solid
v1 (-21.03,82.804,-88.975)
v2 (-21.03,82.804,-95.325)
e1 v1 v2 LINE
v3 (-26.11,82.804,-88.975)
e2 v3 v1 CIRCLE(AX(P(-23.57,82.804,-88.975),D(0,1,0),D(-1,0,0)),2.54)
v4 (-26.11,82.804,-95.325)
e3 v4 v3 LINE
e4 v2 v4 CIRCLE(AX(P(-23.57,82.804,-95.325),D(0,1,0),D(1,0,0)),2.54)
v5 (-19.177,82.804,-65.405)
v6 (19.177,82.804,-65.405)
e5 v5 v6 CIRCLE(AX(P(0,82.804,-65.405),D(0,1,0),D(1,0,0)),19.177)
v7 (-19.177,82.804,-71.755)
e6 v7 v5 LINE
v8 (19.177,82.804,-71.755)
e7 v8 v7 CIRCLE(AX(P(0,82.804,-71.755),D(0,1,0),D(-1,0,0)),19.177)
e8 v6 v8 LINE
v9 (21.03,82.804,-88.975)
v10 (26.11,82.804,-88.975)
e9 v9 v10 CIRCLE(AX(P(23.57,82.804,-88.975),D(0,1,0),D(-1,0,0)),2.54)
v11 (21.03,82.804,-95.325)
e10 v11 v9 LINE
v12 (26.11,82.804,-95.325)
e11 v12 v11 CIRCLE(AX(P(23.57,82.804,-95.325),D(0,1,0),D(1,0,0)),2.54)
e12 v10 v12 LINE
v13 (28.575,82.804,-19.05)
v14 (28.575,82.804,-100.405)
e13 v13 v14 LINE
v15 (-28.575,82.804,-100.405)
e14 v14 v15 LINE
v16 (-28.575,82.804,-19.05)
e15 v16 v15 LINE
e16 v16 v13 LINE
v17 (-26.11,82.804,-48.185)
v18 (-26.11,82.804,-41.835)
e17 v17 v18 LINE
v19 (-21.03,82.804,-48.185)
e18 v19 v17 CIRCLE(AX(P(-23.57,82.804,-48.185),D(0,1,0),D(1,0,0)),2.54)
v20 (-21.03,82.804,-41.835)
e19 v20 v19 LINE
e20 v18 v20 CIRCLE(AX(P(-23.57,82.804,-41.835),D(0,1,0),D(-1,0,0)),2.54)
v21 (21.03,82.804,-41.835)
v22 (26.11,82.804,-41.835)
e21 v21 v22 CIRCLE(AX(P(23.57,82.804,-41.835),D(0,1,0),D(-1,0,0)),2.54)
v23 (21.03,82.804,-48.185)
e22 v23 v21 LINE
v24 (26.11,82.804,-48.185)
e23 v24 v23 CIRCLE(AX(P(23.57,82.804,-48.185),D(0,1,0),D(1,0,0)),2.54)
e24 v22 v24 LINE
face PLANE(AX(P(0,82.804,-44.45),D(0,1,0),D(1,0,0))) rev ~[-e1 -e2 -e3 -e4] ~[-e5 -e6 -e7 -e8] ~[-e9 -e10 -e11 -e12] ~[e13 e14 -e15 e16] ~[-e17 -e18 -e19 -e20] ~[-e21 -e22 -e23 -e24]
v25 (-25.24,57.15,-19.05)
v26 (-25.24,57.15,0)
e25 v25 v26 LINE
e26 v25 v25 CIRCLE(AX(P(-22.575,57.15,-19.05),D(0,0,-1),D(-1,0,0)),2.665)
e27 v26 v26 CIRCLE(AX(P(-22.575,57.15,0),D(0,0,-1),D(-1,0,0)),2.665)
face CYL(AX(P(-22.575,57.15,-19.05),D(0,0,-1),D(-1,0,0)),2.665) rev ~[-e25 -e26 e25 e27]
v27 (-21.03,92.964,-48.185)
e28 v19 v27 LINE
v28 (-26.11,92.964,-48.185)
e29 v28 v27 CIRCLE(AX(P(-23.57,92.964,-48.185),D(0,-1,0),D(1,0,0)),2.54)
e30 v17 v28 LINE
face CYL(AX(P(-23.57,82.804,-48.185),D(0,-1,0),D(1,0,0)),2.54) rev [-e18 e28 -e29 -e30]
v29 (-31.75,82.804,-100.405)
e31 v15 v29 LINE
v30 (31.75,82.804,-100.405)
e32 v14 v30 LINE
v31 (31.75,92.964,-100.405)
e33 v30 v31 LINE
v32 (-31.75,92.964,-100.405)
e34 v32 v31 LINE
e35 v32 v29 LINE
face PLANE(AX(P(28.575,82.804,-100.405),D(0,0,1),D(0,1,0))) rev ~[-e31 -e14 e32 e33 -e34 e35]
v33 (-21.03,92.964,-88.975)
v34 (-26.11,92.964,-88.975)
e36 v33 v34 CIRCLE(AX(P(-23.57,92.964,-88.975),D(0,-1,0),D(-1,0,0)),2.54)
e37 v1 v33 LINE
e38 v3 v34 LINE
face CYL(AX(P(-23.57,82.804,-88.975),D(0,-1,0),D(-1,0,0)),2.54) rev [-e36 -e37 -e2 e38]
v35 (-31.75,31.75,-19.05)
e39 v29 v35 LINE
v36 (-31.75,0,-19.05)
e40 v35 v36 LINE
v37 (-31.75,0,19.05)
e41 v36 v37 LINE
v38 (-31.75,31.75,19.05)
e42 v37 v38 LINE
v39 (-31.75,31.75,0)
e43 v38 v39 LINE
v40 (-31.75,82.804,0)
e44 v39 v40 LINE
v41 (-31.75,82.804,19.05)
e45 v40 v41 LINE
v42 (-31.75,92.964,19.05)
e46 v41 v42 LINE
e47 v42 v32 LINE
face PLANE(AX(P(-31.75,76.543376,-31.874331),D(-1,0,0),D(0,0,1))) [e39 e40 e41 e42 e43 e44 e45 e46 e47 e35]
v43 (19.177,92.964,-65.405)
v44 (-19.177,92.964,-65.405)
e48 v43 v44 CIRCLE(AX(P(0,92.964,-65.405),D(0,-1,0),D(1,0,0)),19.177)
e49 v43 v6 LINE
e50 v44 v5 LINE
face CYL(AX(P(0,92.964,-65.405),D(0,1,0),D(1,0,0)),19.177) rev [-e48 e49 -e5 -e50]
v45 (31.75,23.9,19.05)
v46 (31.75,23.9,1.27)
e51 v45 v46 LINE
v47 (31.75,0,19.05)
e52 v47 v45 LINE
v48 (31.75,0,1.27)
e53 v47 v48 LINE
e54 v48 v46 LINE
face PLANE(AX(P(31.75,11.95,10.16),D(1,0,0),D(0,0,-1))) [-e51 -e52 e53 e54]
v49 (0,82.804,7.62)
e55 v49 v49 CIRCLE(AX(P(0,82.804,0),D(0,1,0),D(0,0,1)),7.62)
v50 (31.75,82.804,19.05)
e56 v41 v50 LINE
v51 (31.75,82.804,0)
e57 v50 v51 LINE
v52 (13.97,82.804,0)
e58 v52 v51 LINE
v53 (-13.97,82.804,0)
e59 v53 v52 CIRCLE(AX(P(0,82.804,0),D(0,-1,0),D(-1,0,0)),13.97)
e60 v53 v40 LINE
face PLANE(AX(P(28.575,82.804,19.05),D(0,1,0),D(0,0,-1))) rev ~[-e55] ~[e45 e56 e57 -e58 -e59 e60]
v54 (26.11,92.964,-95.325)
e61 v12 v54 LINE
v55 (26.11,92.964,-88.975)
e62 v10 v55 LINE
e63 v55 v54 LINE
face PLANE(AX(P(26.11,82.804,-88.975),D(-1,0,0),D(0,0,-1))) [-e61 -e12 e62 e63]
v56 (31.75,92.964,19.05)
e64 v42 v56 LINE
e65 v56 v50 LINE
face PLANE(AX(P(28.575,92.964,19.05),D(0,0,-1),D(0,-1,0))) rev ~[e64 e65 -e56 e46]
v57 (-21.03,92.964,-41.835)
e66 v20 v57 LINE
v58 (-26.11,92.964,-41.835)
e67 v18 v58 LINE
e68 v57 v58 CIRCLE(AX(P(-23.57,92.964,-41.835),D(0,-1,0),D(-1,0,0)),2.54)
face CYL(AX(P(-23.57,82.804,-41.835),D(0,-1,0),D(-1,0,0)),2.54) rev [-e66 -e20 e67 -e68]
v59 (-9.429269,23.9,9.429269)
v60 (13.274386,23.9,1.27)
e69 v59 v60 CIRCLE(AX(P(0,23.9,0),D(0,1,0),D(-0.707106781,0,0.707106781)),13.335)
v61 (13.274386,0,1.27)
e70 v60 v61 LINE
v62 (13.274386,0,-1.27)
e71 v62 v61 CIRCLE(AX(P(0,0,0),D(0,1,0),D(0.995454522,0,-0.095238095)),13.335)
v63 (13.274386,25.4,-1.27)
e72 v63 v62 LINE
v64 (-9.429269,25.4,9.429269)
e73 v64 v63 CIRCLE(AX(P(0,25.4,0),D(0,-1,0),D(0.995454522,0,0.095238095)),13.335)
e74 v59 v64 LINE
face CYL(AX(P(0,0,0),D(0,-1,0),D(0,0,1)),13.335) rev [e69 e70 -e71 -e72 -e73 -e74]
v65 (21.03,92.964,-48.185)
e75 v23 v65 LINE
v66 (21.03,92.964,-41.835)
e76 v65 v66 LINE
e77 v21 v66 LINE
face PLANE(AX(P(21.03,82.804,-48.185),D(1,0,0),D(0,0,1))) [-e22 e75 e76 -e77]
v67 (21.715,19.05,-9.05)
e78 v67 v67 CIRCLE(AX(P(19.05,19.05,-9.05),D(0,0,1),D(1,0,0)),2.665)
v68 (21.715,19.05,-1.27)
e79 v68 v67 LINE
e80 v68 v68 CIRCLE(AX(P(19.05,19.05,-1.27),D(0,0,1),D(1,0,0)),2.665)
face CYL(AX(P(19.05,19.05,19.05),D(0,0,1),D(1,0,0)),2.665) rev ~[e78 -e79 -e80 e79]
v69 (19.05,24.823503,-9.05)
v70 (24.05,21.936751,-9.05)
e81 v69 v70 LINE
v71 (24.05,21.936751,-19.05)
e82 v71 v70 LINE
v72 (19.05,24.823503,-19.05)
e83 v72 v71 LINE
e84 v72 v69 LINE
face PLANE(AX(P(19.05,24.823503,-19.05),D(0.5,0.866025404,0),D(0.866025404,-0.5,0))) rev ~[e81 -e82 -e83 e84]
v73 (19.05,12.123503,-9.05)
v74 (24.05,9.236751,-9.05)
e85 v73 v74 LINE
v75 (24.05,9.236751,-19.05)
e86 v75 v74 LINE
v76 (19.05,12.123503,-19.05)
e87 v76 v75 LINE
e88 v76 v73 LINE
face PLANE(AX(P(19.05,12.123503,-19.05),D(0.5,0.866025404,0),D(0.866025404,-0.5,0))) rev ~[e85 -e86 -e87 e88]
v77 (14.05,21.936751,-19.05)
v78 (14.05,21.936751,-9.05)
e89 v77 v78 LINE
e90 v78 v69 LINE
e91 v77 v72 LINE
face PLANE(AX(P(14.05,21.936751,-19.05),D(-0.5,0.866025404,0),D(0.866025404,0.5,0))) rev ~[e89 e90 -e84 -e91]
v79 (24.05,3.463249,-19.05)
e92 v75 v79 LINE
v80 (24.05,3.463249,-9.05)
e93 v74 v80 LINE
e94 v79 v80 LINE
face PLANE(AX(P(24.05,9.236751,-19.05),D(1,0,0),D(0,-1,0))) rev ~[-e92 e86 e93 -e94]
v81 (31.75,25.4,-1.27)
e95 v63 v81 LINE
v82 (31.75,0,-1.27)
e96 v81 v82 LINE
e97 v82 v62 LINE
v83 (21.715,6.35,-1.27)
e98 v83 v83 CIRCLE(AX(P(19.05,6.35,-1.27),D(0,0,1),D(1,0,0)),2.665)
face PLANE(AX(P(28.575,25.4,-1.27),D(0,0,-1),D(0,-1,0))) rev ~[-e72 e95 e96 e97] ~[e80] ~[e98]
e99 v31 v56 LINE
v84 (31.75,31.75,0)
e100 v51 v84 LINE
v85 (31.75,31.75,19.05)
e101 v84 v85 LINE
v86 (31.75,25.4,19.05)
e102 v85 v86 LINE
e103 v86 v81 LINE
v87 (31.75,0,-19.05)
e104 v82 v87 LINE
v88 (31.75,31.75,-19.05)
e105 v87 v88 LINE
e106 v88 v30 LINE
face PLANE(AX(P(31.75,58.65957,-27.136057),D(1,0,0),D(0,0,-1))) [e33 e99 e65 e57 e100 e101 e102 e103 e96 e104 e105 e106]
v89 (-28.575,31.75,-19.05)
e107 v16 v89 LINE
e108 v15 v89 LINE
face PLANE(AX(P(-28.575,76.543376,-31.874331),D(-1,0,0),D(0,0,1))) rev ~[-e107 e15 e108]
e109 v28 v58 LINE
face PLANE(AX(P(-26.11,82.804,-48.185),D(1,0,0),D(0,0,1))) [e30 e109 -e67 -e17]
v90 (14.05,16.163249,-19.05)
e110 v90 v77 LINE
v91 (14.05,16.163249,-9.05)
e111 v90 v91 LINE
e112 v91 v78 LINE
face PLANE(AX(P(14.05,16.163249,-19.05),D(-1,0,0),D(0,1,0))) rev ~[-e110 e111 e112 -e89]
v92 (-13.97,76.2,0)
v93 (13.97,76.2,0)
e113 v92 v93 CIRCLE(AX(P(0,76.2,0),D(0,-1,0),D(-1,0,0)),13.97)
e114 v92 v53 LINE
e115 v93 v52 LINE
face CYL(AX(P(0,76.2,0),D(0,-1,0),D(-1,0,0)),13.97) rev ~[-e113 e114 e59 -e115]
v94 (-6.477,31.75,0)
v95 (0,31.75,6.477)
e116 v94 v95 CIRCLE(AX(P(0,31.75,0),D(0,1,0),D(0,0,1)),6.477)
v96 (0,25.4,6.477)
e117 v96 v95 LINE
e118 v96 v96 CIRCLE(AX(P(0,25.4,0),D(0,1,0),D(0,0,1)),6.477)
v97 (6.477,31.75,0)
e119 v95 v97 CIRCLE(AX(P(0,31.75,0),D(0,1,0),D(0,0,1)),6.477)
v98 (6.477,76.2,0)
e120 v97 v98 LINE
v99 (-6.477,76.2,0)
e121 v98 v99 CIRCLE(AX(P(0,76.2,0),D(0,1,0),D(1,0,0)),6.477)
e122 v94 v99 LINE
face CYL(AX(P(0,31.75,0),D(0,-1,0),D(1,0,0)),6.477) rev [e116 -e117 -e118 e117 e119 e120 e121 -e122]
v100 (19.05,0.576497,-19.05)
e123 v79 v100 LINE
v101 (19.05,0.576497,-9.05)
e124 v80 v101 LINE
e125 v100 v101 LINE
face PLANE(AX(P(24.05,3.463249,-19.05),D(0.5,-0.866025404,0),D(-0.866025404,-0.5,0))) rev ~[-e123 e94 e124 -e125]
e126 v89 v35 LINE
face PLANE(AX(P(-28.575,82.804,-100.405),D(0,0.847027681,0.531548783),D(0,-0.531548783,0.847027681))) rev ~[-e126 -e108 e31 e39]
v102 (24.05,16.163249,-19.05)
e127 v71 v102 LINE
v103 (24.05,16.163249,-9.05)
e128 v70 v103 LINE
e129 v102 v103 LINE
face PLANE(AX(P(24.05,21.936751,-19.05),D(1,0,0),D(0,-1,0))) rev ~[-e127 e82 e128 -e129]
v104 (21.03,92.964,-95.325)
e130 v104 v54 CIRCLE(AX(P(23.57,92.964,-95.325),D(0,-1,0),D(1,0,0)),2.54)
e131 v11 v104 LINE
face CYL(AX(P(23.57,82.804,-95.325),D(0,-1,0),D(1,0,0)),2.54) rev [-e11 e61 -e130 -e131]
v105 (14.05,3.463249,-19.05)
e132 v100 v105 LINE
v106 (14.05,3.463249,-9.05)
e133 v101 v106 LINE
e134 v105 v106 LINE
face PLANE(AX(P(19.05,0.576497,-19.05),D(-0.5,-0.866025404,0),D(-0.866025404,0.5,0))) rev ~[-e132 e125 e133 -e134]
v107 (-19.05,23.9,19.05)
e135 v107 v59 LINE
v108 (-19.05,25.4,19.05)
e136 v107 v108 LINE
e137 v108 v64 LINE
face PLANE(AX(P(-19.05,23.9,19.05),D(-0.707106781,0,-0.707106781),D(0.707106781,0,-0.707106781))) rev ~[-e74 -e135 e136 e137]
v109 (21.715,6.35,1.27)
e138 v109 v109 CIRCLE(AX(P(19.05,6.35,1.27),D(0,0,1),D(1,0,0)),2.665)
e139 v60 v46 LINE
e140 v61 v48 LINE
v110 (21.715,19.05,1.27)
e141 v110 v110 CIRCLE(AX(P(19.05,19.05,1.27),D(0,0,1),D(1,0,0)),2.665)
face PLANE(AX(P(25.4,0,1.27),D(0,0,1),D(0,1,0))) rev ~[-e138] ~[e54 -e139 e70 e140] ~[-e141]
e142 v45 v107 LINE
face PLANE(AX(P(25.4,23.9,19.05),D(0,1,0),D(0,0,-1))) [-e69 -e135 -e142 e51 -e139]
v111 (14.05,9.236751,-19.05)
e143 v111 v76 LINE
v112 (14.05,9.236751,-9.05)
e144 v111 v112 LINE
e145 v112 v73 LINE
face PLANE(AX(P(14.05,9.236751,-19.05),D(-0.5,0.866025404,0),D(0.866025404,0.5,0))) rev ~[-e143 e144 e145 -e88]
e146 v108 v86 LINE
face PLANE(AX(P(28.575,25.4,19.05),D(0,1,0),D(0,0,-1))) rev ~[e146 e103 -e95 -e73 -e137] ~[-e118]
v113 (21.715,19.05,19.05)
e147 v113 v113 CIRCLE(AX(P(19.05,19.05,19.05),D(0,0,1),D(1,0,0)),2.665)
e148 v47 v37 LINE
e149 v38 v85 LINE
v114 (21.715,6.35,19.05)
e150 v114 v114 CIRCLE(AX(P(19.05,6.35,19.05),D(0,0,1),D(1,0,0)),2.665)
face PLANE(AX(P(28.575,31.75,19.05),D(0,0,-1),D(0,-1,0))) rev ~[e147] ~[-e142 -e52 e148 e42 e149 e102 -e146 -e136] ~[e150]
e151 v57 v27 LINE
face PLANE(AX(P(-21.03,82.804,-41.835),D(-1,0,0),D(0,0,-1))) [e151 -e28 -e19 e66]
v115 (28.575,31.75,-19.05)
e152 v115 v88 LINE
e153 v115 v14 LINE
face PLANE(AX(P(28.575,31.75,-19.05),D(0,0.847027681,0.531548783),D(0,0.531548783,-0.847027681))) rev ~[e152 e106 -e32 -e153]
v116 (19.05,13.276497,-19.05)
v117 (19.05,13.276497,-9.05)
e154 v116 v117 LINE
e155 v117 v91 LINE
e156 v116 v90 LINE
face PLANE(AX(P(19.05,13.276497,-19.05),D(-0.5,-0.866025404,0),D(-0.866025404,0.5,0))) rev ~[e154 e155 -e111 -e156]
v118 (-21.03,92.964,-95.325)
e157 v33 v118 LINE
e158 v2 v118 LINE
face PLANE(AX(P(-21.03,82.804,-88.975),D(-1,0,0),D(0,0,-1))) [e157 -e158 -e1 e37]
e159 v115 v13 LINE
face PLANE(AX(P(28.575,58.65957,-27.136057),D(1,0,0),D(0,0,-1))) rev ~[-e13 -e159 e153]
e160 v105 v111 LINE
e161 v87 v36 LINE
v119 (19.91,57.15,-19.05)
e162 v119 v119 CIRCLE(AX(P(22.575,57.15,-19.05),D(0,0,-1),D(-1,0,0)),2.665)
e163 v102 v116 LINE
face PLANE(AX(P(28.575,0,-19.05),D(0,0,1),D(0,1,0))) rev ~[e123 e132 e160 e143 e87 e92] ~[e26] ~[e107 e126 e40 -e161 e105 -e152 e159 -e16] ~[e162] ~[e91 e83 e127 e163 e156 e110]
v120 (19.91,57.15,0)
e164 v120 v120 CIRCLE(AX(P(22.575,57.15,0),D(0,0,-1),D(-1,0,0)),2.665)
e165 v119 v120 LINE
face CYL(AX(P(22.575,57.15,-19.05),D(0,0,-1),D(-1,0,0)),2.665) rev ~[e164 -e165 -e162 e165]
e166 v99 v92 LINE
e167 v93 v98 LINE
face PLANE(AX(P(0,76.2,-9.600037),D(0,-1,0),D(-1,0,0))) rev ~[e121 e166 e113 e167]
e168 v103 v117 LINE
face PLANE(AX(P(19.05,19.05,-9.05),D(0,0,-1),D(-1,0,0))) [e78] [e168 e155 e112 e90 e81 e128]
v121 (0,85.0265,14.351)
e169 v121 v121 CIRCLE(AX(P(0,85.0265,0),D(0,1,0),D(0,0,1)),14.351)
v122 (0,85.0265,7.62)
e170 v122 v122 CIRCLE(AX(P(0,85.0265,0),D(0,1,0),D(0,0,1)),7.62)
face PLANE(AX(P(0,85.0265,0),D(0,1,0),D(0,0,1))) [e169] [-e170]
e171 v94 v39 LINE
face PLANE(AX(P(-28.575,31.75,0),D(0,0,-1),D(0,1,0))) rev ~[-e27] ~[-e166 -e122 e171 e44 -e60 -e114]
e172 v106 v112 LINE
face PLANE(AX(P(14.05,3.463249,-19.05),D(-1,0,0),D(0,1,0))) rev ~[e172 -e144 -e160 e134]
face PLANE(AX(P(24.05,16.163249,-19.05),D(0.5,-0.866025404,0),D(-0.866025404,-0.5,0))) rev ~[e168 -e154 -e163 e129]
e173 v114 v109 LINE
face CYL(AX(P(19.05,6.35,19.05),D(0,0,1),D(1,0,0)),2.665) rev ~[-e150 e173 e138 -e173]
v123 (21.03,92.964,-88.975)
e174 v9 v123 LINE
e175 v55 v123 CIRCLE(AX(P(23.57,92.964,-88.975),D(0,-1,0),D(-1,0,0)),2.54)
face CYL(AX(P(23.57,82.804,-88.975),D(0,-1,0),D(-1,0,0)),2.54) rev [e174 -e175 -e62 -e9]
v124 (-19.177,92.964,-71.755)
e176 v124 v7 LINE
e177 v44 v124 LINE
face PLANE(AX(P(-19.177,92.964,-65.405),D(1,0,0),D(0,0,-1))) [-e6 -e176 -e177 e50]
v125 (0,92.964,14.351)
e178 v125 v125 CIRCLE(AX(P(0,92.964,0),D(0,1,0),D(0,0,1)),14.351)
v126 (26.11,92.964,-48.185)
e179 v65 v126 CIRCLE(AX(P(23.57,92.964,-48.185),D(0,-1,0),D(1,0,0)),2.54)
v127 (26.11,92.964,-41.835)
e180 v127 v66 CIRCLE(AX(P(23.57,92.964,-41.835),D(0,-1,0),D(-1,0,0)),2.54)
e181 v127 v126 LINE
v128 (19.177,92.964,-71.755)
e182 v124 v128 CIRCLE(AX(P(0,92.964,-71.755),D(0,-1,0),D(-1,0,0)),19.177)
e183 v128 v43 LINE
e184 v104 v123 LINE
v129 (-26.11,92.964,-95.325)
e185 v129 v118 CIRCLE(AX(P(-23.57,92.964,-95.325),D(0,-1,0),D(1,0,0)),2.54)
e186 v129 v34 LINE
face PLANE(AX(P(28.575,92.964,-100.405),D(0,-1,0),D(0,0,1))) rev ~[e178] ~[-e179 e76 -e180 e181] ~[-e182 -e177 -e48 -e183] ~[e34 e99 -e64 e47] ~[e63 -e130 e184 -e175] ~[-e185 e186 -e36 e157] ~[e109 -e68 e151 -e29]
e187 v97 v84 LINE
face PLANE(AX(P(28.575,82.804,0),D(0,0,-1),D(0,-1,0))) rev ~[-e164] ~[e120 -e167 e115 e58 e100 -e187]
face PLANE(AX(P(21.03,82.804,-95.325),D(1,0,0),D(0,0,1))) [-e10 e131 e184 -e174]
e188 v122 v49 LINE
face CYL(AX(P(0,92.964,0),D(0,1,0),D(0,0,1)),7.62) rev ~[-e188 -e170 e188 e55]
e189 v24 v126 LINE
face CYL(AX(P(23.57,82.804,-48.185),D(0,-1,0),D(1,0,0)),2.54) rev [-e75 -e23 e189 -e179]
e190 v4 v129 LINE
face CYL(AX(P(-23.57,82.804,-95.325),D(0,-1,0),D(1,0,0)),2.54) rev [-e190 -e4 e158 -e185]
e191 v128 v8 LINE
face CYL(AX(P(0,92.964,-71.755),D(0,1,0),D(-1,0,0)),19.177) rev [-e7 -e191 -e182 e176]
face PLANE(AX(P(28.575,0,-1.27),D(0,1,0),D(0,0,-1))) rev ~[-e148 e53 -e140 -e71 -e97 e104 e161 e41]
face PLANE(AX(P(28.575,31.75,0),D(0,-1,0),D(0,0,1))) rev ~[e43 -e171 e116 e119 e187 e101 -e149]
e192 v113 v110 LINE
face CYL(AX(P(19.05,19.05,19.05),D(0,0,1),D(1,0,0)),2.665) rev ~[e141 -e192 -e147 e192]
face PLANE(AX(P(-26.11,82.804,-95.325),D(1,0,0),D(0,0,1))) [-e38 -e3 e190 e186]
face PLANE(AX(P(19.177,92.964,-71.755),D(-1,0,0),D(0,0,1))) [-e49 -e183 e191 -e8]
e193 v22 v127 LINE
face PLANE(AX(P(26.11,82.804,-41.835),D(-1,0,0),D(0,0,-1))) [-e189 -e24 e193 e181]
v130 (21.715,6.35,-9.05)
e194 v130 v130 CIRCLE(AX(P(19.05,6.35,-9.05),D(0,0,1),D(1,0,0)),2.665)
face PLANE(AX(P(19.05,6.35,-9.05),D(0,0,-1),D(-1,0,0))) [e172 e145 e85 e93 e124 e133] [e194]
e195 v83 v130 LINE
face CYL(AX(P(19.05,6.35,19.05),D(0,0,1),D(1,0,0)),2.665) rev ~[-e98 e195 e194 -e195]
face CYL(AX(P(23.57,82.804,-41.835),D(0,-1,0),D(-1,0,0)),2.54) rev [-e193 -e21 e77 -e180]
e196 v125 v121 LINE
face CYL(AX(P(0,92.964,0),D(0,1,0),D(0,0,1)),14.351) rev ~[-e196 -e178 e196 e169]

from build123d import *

# Parameters (mm, degrees)
SKETCH1_W            = 50.8
SKETCH1_H            = 38.1
SKETCH1_R            = 13.335
BOSS_EXTRUDE2_DEPTH  = 25.4
CUT_EXTRUDE1_REACH   = 42.66
SKETCH2_W            = 25.4
SKETCH2_H            = 2.54
SKETCH3_R            = 2.665
CUT_EXTRUDE2_DEPTH   = 53.363441445
CUT_EXTRUDE3_DEPTH   = 10
CUT_EXTRUDE4_START   = -1.5
CUT_EXTRUDE4_DEPTH   = 1.5
SKETCH6_W            = 50.8
SKETCH6_H            = 38.1
SKETCH6_R            = 6.477
BOSS_EXTRUDE3_DEPTH  = 6.35
BOSS_EXTRUDE4_DEPTH  = 44.45
BOSS_EXTRUDE5_DEPTH  = 6.604
SKETCH11_W           = 57.15
SKETCH11_H           = 127
BOSS_EXTRUDE6_DEPTH  = 10.16
CUT_EXTRUDE6_REACH   = 147.3
SKETCH12_R           = 7.62
SKETCH13_R           = 14.351
CUT_EXTRUDE7_DEPTH   = 7.9375
CUT_EXTRUDE8_REACH   = 147.3
CUT_EXTRUDE11_REACH  = 141.019
CUT_EXTRUDE12_REACH  = 147.3
SKETCH16_W           = 57.15
SKETCH16_H           = 7.545
SKETCH17_W           = 17.78
SKETCH17_H           = 23.9
BOSS_EXTRUDE7_DEPTH  = 3.175
BOSS_EXTRUDE8_DEPTH  = 3.175
BOSS_EXTRUDE10_DEPTH = 3.175
SKETCH20_W           = 17.78
SKETCH20_H           = 23.9
BOSS_EXTRUDE11_DEPTH = 3.175
CUT_EXTRUDE13_REACH  = 129.55
SKETCH21_R           = 2.665


with BuildPart() as part:
    # Sketch1 → Boss-Extrude2 (new body)
    with BuildSketch(Plane(origin=(0, 0, 0), x_dir=(1, 0, 0), z_dir=(0, 1, 0))):
        Rectangle(SKETCH1_W, SKETCH1_H)
        with Locations(Location((0, 0, 0), (0, 0, 270))):
            Circle(SKETCH1_R, mode=Mode.SUBTRACT)
    extrude(amount=BOSS_EXTRUDE2_DEPTH)

    # Sketch2 → Cut-Extrude1 (cut, up to next)
    with BuildSketch(Plane(origin=(0, 25.4, 0), x_dir=(1, 0, 0), z_dir=(0, 1, 0)), mode=Mode.PRIVATE) as cut_extrude1_sk1:
        with Locations((12.7, 0)):
            Rectangle(SKETCH2_W, SKETCH2_H)
    cut_extrude1_tool1 = extrude(cut_extrude1_sk1.sketch, amount=-CUT_EXTRUDE1_REACH, mode=Mode.PRIVATE) & part.part
    add(cut_extrude1_tool1.solids().sort_by_distance((12.7, 25.4, 0))[0], mode=Mode.SUBTRACT)

    # Sketch3 → Cut-Extrude2 (cut, through all)
    with BuildSketch(Plane.XY.offset(19.05)):
        with Locations((19.05, 19.05)):
            Circle(SKETCH3_R)
        with Locations((19.05, 6.35)):
            Circle(SKETCH3_R)
    extrude(amount=-CUT_EXTRUDE2_DEPTH, mode=Mode.SUBTRACT)

    # Sketch4 → Cut-Extrude3 (cut)
    with BuildSketch(Plane(origin=(0, 0, -19.05), x_dir=(-1, 0, 0), z_dir=(0, 0, -1))):
        Polygon((-19.05, 24.823502692), (-24.05, 21.936751346), (-24.05, 16.163248654), (-19.05, 13.276497308), (-14.05, 16.163248654), (-14.05, 21.936751346), align=None)
        Polygon((-19.05, 12.123502692), (-24.05, 9.236751346), (-24.05, 3.463248654), (-19.05, 0.576497308), (-14.05, 3.463248654), (-14.05, 9.236751346), align=None)
    extrude(amount=-CUT_EXTRUDE3_DEPTH, mode=Mode.SUBTRACT)

    # Sketch5 → Cut-Extrude4 (cut)
    with BuildSketch(Plane(origin=(0, 25.4, 0), x_dir=(1, 0, 0), z_dir=(0, 1, 0)).offset(CUT_EXTRUDE4_START)):
        with BuildLine():
            Line((-19.05, -19.05), (-9.429268927, -9.429268927))
            ThreePointArc((-9.429268927, -9.429268927), (4.509949975, -12.549206199), (13.27438605, -1.27))
            Line((13.27438605, -1.27), (25.4, -1.27))
            Line((25.4, -1.27), (25.4, -19.05))
            Line((25.4, -19.05), (-19.05, -19.05))
        make_face()
    extrude(amount=CUT_EXTRUDE4_DEPTH, mode=Mode.SUBTRACT)

    # Sketch6 → Boss-Extrude3 (add)
    with BuildSketch(Plane(origin=(0, 25.4, 0), x_dir=(1, 0, 0), z_dir=(0, 1, 0))):
        Rectangle(SKETCH6_W, SKETCH6_H)
        with Locations(Location((0, 0, 0), (0, 0, 270))):
            Circle(SKETCH6_R, mode=Mode.SUBTRACT)
    extrude(amount=BOSS_EXTRUDE3_DEPTH)

    # Sketch8 → Boss-Extrude4 (add)
    with BuildSketch(Plane(origin=(0, 31.75, 0), x_dir=(1, 0, 0), z_dir=(0, 1, 0))):
        with BuildLine():
            Line((-25.4, 19.05), (25.4, 19.05))
            Line((25.4, 19.05), (25.4, 0))
            Line((25.4, 0), (6.477, 0))
            ThreePointArc((6.477, 0), (0, 6.477), (-6.477, 0))
            Line((-6.477, 0), (-25.4, 0))
            Line((-25.4, 0), (-25.4, 19.05))
        make_face()
    extrude(amount=BOSS_EXTRUDE4_DEPTH)

    # Sketch10 → Boss-Extrude5 (add)
    with BuildSketch(Plane(origin=(0, 76.2, 0), x_dir=(1, 0, 0), z_dir=(0, 1, 0))):
        with BuildLine():
            Line((-25.4, 19.05), (-25.4, 0))
            Line((-25.4, 0), (-13.97, 0))
            ThreePointArc((-13.97, 0), (0, 13.97), (13.97, 0))
            Line((13.97, 0), (25.4, 0))
            Line((25.4, 0), (25.4, 19.05))
            Line((25.4, 19.05), (-25.4, 19.05))
        make_face()
    extrude(amount=BOSS_EXTRUDE5_DEPTH)

    # Sketch11 → Boss-Extrude6 (add)
    with BuildSketch(Plane(origin=(0, 82.804, 0), x_dir=(1, 0, 0), z_dir=(0, 1, 0))):
        with Locations((0, 44.45)):
            Rectangle(SKETCH11_W, SKETCH11_H)
    extrude(amount=BOSS_EXTRUDE6_DEPTH)

    # Sketch12 → Cut-Extrude6 (cut, up to next)
    with BuildSketch(Plane(origin=(0, 92.964, 0), x_dir=(1, 0, 0), z_dir=(0, 1, 0)), mode=Mode.PRIVATE) as cut_extrude6_sk1:
        with Locations(Location((0, 0, 0), (0, 0, 270))):
            Circle(SKETCH12_R)
    cut_extrude6_tool1 = extrude(cut_extrude6_sk1.sketch, amount=-CUT_EXTRUDE6_REACH, mode=Mode.PRIVATE) & part.part
    add(cut_extrude6_tool1.solids().sort_by_distance((0, 92.964, 0))[0], mode=Mode.SUBTRACT)

    # Sketch13 → Cut-Extrude7 (cut)
    with BuildSketch(Plane(origin=(0, 92.964, 0), x_dir=(1, 0, 0), z_dir=(0, 1, 0))):
        with Locations(Location((0, 0, 0), (0, 0, 270))):
            Circle(SKETCH13_R)
    extrude(amount=-CUT_EXTRUDE7_DEPTH, mode=Mode.SUBTRACT)

    # Sketch14 → Cut-Extrude8 (cut, up to next)
    with BuildSketch(Plane(origin=(0, 92.964, 0), x_dir=(1, 0, 0), z_dir=(0, 1, 0)), mode=Mode.PRIVATE) as cut_extrude8_sk1:
        with BuildLine():
            Line((-19.177, 65.405), (-19.177, 71.755))
            ThreePointArc((-19.177, 71.755), (0, 90.932), (19.177, 71.755))
            Line((19.177, 71.755), (19.177, 65.405))
            ThreePointArc((19.177, 65.405), (0, 46.228), (-19.177, 65.405))
        make_face()
    cut_extrude8_tool1 = extrude(cut_extrude8_sk1.sketch, amount=-CUT_EXTRUDE8_REACH, mode=Mode.PRIVATE) & part.part
    add(cut_extrude8_tool1.solids().sort_by_distance((0, 92.964, -68.58))[0], mode=Mode.SUBTRACT)

    # Sketch15 → Cut-Extrude11 (cut, up to next)
    with BuildSketch(Plane.XZ.offset(-82.804), mode=Mode.PRIVATE) as cut_extrude11_sk1:
        with BuildLine():
            Line((-21.03, -88.975), (-21.03, -95.325))
            ThreePointArc((-21.03, -95.325), (-23.57, -97.865), (-26.11, -95.325))
            Line((-26.11, -95.325), (-26.11, -88.975))
            ThreePointArc((-26.11, -88.975), (-23.57, -86.435), (-21.03, -88.975))
        make_face()
    cut_extrude11_tool1 = extrude(cut_extrude11_sk1.sketch, amount=-CUT_EXTRUDE11_REACH, mode=Mode.PRIVATE) & part.part
    # Sketch15 → Cut-Extrude11 (cut, up to next)
    with BuildSketch(Plane.XZ.offset(-82.804), mode=Mode.PRIVATE) as cut_extrude11_sk2:
        with BuildLine():
            Line((26.11, -88.975), (26.11, -95.325))
            ThreePointArc((26.11, -95.325), (23.57, -97.865), (21.03, -95.325))
            Line((21.03, -95.325), (21.03, -88.975))
            ThreePointArc((21.03, -88.975), (23.57, -86.435), (26.11, -88.975))
        make_face()
    cut_extrude11_tool2 = extrude(cut_extrude11_sk2.sketch, amount=-CUT_EXTRUDE11_REACH, mode=Mode.PRIVATE) & part.part
    # Sketch15 → Cut-Extrude11 (cut, up to next)
    with BuildSketch(Plane.XZ.offset(-82.804), mode=Mode.PRIVATE) as cut_extrude11_sk3:
        with BuildLine():
            Line((26.11, -41.835), (26.11, -48.185))
            ThreePointArc((26.11, -48.185), (23.57, -50.725), (21.03, -48.185))
            Line((21.03, -48.185), (21.03, -41.835))
            ThreePointArc((21.03, -41.835), (23.57, -39.295), (26.11, -41.835))
        make_face()
    cut_extrude11_tool3 = extrude(cut_extrude11_sk3.sketch, amount=-CUT_EXTRUDE11_REACH, mode=Mode.PRIVATE) & part.part
    # Sketch15 → Cut-Extrude11 (cut, up to next)
    with BuildSketch(Plane.XZ.offset(-82.804), mode=Mode.PRIVATE) as cut_extrude11_sk4:
        with BuildLine():
            Line((-21.03, -41.835), (-21.03, -48.185))
            ThreePointArc((-21.03, -48.185), (-23.57, -50.725), (-26.11, -48.185))
            Line((-26.11, -48.185), (-26.11, -41.835))
            ThreePointArc((-26.11, -41.835), (-23.57, -39.295), (-21.03, -41.835))
        make_face()
    cut_extrude11_tool4 = extrude(cut_extrude11_sk4.sketch, amount=-CUT_EXTRUDE11_REACH, mode=Mode.PRIVATE) & part.part
    add(cut_extrude11_tool1.solids().sort_by_distance((-23.57, 82.804, -92.15))[0], mode=Mode.SUBTRACT)
    add(cut_extrude11_tool2.solids().sort_by_distance((23.57, 82.804, -92.15))[0], mode=Mode.SUBTRACT)
    add(cut_extrude11_tool3.solids().sort_by_distance((23.57, 82.804, -45.01))[0], mode=Mode.SUBTRACT)
    add(cut_extrude11_tool4.solids().sort_by_distance((-23.57, 82.804, -45.01))[0], mode=Mode.SUBTRACT)

    # Sketch16 → Cut-Extrude12 (cut, up to next)
    with BuildSketch(Plane(origin=(0, 92.964, 0), x_dir=(1, 0, 0), z_dir=(0, 1, 0)), mode=Mode.PRIVATE) as cut_extrude12_sk1:
        with Locations((0, 104.1775)):
            Rectangle(SKETCH16_W, SKETCH16_H)
    cut_extrude12_tool1 = extrude(cut_extrude12_sk1.sketch, amount=-CUT_EXTRUDE12_REACH, mode=Mode.PRIVATE) & part.part
    add(cut_extrude12_tool1.solids().sort_by_distance((0, 92.964, -104.1775))[0], mode=Mode.SUBTRACT)

    # Sketch17 → Boss-Extrude7 (add)
    with BuildSketch(Plane(origin=(25.4, 0, 0), x_dir=(0, 0, -1), z_dir=(1, 0, 0))):
        with Locations((-10.16, 11.95)):
            Rectangle(SKETCH17_W, SKETCH17_H)
        Polygon((19.05, 0), (19.05, 82.804), (0, 82.804), (0, 31.75), (-19.05, 31.75), (-19.05, 25.4), (1.27, 25.4), (1.27, 0), align=None)
    extrude(amount=BOSS_EXTRUDE7_DEPTH)

    # Sketch18 → Boss-Extrude8 (add)
    with BuildSketch(Plane.ZY.offset(25.4)):
        Polygon((-19.05, 0), (19.05, 0), (19.05, 31.75), (0, 31.75), (0, 82.804), (-19.05, 82.804), align=None)
    extrude(amount=BOSS_EXTRUDE8_DEPTH)

    # Sketch19 → Boss-Extrude10 (add)
    with BuildSketch(Plane.ZY.offset(28.575)):
        Polygon((0, 92.964), (-100.405, 92.964), (-100.405, 82.804), (-19.05, 82.804), (-19.05, 31.75), (0, 31.75), (0, 82.804), (19.05, 82.804), (19.05, 92.964), align=None)
        Polygon((0, 31.75), (-19.05, 31.75), (-19.05, 0), (19.05, 0), (19.05, 31.75), align=None)
        Polygon((-19.05, 82.804), (-100.405, 82.804), (-19.05, 31.75), align=None)
    extrude(amount=BOSS_EXTRUDE10_DEPTH)

    # Sketch20 → Boss-Extrude11 (add)
    with BuildSketch(Plane(origin=(28.575, 0, 0), x_dir=(0, 0, -1), z_dir=(1, 0, 0))):
        Polygon((19.05, 31.75), (100.405, 82.804), (100.405, 92.964), (-19.05, 92.964), (-19.05, 82.804), (0, 82.804), (0, 31.75), (-19.05, 31.75), (-19.05, 25.4), (1.27, 25.4), (1.27, 0), (19.05, 0), align=None)
        with Locations((-10.16, 11.95)):
            Rectangle(SKETCH20_W, SKETCH20_H)
    extrude(amount=BOSS_EXTRUDE11_DEPTH)

    # Sketch21 → Cut-Extrude13 (cut, up to next)
    with BuildSketch(Plane(origin=(0, 0, -19.05), x_dir=(-1, 0, 0), z_dir=(0, 0, -1)), mode=Mode.PRIVATE) as cut_extrude13_sk1:
        with Locations((22.575, 57.15)):
            Circle(SKETCH21_R)
    cut_extrude13_tool1 = extrude(cut_extrude13_sk1.sketch, amount=-CUT_EXTRUDE13_REACH, mode=Mode.PRIVATE) & part.part
    # Sketch21 → Cut-Extrude13 (cut, up to next)
    with BuildSketch(Plane(origin=(0, 0, -19.05), x_dir=(-1, 0, 0), z_dir=(0, 0, -1)), mode=Mode.PRIVATE) as cut_extrude13_sk2:
        with Locations((-22.575, 57.15)):
            Circle(SKETCH21_R)
    cut_extrude13_tool2 = extrude(cut_extrude13_sk2.sketch, amount=-CUT_EXTRUDE13_REACH, mode=Mode.PRIVATE) & part.part
    add(cut_extrude13_tool1.solids().sort_by_distance((-22.575, 57.15, -19.05))[0], mode=Mode.SUBTRACT)
    add(cut_extrude13_tool2.solids().sort_by_distance((22.575, 57.15, -19.05))[0], mode=Mode.SUBTRACT)


solid = part.part
